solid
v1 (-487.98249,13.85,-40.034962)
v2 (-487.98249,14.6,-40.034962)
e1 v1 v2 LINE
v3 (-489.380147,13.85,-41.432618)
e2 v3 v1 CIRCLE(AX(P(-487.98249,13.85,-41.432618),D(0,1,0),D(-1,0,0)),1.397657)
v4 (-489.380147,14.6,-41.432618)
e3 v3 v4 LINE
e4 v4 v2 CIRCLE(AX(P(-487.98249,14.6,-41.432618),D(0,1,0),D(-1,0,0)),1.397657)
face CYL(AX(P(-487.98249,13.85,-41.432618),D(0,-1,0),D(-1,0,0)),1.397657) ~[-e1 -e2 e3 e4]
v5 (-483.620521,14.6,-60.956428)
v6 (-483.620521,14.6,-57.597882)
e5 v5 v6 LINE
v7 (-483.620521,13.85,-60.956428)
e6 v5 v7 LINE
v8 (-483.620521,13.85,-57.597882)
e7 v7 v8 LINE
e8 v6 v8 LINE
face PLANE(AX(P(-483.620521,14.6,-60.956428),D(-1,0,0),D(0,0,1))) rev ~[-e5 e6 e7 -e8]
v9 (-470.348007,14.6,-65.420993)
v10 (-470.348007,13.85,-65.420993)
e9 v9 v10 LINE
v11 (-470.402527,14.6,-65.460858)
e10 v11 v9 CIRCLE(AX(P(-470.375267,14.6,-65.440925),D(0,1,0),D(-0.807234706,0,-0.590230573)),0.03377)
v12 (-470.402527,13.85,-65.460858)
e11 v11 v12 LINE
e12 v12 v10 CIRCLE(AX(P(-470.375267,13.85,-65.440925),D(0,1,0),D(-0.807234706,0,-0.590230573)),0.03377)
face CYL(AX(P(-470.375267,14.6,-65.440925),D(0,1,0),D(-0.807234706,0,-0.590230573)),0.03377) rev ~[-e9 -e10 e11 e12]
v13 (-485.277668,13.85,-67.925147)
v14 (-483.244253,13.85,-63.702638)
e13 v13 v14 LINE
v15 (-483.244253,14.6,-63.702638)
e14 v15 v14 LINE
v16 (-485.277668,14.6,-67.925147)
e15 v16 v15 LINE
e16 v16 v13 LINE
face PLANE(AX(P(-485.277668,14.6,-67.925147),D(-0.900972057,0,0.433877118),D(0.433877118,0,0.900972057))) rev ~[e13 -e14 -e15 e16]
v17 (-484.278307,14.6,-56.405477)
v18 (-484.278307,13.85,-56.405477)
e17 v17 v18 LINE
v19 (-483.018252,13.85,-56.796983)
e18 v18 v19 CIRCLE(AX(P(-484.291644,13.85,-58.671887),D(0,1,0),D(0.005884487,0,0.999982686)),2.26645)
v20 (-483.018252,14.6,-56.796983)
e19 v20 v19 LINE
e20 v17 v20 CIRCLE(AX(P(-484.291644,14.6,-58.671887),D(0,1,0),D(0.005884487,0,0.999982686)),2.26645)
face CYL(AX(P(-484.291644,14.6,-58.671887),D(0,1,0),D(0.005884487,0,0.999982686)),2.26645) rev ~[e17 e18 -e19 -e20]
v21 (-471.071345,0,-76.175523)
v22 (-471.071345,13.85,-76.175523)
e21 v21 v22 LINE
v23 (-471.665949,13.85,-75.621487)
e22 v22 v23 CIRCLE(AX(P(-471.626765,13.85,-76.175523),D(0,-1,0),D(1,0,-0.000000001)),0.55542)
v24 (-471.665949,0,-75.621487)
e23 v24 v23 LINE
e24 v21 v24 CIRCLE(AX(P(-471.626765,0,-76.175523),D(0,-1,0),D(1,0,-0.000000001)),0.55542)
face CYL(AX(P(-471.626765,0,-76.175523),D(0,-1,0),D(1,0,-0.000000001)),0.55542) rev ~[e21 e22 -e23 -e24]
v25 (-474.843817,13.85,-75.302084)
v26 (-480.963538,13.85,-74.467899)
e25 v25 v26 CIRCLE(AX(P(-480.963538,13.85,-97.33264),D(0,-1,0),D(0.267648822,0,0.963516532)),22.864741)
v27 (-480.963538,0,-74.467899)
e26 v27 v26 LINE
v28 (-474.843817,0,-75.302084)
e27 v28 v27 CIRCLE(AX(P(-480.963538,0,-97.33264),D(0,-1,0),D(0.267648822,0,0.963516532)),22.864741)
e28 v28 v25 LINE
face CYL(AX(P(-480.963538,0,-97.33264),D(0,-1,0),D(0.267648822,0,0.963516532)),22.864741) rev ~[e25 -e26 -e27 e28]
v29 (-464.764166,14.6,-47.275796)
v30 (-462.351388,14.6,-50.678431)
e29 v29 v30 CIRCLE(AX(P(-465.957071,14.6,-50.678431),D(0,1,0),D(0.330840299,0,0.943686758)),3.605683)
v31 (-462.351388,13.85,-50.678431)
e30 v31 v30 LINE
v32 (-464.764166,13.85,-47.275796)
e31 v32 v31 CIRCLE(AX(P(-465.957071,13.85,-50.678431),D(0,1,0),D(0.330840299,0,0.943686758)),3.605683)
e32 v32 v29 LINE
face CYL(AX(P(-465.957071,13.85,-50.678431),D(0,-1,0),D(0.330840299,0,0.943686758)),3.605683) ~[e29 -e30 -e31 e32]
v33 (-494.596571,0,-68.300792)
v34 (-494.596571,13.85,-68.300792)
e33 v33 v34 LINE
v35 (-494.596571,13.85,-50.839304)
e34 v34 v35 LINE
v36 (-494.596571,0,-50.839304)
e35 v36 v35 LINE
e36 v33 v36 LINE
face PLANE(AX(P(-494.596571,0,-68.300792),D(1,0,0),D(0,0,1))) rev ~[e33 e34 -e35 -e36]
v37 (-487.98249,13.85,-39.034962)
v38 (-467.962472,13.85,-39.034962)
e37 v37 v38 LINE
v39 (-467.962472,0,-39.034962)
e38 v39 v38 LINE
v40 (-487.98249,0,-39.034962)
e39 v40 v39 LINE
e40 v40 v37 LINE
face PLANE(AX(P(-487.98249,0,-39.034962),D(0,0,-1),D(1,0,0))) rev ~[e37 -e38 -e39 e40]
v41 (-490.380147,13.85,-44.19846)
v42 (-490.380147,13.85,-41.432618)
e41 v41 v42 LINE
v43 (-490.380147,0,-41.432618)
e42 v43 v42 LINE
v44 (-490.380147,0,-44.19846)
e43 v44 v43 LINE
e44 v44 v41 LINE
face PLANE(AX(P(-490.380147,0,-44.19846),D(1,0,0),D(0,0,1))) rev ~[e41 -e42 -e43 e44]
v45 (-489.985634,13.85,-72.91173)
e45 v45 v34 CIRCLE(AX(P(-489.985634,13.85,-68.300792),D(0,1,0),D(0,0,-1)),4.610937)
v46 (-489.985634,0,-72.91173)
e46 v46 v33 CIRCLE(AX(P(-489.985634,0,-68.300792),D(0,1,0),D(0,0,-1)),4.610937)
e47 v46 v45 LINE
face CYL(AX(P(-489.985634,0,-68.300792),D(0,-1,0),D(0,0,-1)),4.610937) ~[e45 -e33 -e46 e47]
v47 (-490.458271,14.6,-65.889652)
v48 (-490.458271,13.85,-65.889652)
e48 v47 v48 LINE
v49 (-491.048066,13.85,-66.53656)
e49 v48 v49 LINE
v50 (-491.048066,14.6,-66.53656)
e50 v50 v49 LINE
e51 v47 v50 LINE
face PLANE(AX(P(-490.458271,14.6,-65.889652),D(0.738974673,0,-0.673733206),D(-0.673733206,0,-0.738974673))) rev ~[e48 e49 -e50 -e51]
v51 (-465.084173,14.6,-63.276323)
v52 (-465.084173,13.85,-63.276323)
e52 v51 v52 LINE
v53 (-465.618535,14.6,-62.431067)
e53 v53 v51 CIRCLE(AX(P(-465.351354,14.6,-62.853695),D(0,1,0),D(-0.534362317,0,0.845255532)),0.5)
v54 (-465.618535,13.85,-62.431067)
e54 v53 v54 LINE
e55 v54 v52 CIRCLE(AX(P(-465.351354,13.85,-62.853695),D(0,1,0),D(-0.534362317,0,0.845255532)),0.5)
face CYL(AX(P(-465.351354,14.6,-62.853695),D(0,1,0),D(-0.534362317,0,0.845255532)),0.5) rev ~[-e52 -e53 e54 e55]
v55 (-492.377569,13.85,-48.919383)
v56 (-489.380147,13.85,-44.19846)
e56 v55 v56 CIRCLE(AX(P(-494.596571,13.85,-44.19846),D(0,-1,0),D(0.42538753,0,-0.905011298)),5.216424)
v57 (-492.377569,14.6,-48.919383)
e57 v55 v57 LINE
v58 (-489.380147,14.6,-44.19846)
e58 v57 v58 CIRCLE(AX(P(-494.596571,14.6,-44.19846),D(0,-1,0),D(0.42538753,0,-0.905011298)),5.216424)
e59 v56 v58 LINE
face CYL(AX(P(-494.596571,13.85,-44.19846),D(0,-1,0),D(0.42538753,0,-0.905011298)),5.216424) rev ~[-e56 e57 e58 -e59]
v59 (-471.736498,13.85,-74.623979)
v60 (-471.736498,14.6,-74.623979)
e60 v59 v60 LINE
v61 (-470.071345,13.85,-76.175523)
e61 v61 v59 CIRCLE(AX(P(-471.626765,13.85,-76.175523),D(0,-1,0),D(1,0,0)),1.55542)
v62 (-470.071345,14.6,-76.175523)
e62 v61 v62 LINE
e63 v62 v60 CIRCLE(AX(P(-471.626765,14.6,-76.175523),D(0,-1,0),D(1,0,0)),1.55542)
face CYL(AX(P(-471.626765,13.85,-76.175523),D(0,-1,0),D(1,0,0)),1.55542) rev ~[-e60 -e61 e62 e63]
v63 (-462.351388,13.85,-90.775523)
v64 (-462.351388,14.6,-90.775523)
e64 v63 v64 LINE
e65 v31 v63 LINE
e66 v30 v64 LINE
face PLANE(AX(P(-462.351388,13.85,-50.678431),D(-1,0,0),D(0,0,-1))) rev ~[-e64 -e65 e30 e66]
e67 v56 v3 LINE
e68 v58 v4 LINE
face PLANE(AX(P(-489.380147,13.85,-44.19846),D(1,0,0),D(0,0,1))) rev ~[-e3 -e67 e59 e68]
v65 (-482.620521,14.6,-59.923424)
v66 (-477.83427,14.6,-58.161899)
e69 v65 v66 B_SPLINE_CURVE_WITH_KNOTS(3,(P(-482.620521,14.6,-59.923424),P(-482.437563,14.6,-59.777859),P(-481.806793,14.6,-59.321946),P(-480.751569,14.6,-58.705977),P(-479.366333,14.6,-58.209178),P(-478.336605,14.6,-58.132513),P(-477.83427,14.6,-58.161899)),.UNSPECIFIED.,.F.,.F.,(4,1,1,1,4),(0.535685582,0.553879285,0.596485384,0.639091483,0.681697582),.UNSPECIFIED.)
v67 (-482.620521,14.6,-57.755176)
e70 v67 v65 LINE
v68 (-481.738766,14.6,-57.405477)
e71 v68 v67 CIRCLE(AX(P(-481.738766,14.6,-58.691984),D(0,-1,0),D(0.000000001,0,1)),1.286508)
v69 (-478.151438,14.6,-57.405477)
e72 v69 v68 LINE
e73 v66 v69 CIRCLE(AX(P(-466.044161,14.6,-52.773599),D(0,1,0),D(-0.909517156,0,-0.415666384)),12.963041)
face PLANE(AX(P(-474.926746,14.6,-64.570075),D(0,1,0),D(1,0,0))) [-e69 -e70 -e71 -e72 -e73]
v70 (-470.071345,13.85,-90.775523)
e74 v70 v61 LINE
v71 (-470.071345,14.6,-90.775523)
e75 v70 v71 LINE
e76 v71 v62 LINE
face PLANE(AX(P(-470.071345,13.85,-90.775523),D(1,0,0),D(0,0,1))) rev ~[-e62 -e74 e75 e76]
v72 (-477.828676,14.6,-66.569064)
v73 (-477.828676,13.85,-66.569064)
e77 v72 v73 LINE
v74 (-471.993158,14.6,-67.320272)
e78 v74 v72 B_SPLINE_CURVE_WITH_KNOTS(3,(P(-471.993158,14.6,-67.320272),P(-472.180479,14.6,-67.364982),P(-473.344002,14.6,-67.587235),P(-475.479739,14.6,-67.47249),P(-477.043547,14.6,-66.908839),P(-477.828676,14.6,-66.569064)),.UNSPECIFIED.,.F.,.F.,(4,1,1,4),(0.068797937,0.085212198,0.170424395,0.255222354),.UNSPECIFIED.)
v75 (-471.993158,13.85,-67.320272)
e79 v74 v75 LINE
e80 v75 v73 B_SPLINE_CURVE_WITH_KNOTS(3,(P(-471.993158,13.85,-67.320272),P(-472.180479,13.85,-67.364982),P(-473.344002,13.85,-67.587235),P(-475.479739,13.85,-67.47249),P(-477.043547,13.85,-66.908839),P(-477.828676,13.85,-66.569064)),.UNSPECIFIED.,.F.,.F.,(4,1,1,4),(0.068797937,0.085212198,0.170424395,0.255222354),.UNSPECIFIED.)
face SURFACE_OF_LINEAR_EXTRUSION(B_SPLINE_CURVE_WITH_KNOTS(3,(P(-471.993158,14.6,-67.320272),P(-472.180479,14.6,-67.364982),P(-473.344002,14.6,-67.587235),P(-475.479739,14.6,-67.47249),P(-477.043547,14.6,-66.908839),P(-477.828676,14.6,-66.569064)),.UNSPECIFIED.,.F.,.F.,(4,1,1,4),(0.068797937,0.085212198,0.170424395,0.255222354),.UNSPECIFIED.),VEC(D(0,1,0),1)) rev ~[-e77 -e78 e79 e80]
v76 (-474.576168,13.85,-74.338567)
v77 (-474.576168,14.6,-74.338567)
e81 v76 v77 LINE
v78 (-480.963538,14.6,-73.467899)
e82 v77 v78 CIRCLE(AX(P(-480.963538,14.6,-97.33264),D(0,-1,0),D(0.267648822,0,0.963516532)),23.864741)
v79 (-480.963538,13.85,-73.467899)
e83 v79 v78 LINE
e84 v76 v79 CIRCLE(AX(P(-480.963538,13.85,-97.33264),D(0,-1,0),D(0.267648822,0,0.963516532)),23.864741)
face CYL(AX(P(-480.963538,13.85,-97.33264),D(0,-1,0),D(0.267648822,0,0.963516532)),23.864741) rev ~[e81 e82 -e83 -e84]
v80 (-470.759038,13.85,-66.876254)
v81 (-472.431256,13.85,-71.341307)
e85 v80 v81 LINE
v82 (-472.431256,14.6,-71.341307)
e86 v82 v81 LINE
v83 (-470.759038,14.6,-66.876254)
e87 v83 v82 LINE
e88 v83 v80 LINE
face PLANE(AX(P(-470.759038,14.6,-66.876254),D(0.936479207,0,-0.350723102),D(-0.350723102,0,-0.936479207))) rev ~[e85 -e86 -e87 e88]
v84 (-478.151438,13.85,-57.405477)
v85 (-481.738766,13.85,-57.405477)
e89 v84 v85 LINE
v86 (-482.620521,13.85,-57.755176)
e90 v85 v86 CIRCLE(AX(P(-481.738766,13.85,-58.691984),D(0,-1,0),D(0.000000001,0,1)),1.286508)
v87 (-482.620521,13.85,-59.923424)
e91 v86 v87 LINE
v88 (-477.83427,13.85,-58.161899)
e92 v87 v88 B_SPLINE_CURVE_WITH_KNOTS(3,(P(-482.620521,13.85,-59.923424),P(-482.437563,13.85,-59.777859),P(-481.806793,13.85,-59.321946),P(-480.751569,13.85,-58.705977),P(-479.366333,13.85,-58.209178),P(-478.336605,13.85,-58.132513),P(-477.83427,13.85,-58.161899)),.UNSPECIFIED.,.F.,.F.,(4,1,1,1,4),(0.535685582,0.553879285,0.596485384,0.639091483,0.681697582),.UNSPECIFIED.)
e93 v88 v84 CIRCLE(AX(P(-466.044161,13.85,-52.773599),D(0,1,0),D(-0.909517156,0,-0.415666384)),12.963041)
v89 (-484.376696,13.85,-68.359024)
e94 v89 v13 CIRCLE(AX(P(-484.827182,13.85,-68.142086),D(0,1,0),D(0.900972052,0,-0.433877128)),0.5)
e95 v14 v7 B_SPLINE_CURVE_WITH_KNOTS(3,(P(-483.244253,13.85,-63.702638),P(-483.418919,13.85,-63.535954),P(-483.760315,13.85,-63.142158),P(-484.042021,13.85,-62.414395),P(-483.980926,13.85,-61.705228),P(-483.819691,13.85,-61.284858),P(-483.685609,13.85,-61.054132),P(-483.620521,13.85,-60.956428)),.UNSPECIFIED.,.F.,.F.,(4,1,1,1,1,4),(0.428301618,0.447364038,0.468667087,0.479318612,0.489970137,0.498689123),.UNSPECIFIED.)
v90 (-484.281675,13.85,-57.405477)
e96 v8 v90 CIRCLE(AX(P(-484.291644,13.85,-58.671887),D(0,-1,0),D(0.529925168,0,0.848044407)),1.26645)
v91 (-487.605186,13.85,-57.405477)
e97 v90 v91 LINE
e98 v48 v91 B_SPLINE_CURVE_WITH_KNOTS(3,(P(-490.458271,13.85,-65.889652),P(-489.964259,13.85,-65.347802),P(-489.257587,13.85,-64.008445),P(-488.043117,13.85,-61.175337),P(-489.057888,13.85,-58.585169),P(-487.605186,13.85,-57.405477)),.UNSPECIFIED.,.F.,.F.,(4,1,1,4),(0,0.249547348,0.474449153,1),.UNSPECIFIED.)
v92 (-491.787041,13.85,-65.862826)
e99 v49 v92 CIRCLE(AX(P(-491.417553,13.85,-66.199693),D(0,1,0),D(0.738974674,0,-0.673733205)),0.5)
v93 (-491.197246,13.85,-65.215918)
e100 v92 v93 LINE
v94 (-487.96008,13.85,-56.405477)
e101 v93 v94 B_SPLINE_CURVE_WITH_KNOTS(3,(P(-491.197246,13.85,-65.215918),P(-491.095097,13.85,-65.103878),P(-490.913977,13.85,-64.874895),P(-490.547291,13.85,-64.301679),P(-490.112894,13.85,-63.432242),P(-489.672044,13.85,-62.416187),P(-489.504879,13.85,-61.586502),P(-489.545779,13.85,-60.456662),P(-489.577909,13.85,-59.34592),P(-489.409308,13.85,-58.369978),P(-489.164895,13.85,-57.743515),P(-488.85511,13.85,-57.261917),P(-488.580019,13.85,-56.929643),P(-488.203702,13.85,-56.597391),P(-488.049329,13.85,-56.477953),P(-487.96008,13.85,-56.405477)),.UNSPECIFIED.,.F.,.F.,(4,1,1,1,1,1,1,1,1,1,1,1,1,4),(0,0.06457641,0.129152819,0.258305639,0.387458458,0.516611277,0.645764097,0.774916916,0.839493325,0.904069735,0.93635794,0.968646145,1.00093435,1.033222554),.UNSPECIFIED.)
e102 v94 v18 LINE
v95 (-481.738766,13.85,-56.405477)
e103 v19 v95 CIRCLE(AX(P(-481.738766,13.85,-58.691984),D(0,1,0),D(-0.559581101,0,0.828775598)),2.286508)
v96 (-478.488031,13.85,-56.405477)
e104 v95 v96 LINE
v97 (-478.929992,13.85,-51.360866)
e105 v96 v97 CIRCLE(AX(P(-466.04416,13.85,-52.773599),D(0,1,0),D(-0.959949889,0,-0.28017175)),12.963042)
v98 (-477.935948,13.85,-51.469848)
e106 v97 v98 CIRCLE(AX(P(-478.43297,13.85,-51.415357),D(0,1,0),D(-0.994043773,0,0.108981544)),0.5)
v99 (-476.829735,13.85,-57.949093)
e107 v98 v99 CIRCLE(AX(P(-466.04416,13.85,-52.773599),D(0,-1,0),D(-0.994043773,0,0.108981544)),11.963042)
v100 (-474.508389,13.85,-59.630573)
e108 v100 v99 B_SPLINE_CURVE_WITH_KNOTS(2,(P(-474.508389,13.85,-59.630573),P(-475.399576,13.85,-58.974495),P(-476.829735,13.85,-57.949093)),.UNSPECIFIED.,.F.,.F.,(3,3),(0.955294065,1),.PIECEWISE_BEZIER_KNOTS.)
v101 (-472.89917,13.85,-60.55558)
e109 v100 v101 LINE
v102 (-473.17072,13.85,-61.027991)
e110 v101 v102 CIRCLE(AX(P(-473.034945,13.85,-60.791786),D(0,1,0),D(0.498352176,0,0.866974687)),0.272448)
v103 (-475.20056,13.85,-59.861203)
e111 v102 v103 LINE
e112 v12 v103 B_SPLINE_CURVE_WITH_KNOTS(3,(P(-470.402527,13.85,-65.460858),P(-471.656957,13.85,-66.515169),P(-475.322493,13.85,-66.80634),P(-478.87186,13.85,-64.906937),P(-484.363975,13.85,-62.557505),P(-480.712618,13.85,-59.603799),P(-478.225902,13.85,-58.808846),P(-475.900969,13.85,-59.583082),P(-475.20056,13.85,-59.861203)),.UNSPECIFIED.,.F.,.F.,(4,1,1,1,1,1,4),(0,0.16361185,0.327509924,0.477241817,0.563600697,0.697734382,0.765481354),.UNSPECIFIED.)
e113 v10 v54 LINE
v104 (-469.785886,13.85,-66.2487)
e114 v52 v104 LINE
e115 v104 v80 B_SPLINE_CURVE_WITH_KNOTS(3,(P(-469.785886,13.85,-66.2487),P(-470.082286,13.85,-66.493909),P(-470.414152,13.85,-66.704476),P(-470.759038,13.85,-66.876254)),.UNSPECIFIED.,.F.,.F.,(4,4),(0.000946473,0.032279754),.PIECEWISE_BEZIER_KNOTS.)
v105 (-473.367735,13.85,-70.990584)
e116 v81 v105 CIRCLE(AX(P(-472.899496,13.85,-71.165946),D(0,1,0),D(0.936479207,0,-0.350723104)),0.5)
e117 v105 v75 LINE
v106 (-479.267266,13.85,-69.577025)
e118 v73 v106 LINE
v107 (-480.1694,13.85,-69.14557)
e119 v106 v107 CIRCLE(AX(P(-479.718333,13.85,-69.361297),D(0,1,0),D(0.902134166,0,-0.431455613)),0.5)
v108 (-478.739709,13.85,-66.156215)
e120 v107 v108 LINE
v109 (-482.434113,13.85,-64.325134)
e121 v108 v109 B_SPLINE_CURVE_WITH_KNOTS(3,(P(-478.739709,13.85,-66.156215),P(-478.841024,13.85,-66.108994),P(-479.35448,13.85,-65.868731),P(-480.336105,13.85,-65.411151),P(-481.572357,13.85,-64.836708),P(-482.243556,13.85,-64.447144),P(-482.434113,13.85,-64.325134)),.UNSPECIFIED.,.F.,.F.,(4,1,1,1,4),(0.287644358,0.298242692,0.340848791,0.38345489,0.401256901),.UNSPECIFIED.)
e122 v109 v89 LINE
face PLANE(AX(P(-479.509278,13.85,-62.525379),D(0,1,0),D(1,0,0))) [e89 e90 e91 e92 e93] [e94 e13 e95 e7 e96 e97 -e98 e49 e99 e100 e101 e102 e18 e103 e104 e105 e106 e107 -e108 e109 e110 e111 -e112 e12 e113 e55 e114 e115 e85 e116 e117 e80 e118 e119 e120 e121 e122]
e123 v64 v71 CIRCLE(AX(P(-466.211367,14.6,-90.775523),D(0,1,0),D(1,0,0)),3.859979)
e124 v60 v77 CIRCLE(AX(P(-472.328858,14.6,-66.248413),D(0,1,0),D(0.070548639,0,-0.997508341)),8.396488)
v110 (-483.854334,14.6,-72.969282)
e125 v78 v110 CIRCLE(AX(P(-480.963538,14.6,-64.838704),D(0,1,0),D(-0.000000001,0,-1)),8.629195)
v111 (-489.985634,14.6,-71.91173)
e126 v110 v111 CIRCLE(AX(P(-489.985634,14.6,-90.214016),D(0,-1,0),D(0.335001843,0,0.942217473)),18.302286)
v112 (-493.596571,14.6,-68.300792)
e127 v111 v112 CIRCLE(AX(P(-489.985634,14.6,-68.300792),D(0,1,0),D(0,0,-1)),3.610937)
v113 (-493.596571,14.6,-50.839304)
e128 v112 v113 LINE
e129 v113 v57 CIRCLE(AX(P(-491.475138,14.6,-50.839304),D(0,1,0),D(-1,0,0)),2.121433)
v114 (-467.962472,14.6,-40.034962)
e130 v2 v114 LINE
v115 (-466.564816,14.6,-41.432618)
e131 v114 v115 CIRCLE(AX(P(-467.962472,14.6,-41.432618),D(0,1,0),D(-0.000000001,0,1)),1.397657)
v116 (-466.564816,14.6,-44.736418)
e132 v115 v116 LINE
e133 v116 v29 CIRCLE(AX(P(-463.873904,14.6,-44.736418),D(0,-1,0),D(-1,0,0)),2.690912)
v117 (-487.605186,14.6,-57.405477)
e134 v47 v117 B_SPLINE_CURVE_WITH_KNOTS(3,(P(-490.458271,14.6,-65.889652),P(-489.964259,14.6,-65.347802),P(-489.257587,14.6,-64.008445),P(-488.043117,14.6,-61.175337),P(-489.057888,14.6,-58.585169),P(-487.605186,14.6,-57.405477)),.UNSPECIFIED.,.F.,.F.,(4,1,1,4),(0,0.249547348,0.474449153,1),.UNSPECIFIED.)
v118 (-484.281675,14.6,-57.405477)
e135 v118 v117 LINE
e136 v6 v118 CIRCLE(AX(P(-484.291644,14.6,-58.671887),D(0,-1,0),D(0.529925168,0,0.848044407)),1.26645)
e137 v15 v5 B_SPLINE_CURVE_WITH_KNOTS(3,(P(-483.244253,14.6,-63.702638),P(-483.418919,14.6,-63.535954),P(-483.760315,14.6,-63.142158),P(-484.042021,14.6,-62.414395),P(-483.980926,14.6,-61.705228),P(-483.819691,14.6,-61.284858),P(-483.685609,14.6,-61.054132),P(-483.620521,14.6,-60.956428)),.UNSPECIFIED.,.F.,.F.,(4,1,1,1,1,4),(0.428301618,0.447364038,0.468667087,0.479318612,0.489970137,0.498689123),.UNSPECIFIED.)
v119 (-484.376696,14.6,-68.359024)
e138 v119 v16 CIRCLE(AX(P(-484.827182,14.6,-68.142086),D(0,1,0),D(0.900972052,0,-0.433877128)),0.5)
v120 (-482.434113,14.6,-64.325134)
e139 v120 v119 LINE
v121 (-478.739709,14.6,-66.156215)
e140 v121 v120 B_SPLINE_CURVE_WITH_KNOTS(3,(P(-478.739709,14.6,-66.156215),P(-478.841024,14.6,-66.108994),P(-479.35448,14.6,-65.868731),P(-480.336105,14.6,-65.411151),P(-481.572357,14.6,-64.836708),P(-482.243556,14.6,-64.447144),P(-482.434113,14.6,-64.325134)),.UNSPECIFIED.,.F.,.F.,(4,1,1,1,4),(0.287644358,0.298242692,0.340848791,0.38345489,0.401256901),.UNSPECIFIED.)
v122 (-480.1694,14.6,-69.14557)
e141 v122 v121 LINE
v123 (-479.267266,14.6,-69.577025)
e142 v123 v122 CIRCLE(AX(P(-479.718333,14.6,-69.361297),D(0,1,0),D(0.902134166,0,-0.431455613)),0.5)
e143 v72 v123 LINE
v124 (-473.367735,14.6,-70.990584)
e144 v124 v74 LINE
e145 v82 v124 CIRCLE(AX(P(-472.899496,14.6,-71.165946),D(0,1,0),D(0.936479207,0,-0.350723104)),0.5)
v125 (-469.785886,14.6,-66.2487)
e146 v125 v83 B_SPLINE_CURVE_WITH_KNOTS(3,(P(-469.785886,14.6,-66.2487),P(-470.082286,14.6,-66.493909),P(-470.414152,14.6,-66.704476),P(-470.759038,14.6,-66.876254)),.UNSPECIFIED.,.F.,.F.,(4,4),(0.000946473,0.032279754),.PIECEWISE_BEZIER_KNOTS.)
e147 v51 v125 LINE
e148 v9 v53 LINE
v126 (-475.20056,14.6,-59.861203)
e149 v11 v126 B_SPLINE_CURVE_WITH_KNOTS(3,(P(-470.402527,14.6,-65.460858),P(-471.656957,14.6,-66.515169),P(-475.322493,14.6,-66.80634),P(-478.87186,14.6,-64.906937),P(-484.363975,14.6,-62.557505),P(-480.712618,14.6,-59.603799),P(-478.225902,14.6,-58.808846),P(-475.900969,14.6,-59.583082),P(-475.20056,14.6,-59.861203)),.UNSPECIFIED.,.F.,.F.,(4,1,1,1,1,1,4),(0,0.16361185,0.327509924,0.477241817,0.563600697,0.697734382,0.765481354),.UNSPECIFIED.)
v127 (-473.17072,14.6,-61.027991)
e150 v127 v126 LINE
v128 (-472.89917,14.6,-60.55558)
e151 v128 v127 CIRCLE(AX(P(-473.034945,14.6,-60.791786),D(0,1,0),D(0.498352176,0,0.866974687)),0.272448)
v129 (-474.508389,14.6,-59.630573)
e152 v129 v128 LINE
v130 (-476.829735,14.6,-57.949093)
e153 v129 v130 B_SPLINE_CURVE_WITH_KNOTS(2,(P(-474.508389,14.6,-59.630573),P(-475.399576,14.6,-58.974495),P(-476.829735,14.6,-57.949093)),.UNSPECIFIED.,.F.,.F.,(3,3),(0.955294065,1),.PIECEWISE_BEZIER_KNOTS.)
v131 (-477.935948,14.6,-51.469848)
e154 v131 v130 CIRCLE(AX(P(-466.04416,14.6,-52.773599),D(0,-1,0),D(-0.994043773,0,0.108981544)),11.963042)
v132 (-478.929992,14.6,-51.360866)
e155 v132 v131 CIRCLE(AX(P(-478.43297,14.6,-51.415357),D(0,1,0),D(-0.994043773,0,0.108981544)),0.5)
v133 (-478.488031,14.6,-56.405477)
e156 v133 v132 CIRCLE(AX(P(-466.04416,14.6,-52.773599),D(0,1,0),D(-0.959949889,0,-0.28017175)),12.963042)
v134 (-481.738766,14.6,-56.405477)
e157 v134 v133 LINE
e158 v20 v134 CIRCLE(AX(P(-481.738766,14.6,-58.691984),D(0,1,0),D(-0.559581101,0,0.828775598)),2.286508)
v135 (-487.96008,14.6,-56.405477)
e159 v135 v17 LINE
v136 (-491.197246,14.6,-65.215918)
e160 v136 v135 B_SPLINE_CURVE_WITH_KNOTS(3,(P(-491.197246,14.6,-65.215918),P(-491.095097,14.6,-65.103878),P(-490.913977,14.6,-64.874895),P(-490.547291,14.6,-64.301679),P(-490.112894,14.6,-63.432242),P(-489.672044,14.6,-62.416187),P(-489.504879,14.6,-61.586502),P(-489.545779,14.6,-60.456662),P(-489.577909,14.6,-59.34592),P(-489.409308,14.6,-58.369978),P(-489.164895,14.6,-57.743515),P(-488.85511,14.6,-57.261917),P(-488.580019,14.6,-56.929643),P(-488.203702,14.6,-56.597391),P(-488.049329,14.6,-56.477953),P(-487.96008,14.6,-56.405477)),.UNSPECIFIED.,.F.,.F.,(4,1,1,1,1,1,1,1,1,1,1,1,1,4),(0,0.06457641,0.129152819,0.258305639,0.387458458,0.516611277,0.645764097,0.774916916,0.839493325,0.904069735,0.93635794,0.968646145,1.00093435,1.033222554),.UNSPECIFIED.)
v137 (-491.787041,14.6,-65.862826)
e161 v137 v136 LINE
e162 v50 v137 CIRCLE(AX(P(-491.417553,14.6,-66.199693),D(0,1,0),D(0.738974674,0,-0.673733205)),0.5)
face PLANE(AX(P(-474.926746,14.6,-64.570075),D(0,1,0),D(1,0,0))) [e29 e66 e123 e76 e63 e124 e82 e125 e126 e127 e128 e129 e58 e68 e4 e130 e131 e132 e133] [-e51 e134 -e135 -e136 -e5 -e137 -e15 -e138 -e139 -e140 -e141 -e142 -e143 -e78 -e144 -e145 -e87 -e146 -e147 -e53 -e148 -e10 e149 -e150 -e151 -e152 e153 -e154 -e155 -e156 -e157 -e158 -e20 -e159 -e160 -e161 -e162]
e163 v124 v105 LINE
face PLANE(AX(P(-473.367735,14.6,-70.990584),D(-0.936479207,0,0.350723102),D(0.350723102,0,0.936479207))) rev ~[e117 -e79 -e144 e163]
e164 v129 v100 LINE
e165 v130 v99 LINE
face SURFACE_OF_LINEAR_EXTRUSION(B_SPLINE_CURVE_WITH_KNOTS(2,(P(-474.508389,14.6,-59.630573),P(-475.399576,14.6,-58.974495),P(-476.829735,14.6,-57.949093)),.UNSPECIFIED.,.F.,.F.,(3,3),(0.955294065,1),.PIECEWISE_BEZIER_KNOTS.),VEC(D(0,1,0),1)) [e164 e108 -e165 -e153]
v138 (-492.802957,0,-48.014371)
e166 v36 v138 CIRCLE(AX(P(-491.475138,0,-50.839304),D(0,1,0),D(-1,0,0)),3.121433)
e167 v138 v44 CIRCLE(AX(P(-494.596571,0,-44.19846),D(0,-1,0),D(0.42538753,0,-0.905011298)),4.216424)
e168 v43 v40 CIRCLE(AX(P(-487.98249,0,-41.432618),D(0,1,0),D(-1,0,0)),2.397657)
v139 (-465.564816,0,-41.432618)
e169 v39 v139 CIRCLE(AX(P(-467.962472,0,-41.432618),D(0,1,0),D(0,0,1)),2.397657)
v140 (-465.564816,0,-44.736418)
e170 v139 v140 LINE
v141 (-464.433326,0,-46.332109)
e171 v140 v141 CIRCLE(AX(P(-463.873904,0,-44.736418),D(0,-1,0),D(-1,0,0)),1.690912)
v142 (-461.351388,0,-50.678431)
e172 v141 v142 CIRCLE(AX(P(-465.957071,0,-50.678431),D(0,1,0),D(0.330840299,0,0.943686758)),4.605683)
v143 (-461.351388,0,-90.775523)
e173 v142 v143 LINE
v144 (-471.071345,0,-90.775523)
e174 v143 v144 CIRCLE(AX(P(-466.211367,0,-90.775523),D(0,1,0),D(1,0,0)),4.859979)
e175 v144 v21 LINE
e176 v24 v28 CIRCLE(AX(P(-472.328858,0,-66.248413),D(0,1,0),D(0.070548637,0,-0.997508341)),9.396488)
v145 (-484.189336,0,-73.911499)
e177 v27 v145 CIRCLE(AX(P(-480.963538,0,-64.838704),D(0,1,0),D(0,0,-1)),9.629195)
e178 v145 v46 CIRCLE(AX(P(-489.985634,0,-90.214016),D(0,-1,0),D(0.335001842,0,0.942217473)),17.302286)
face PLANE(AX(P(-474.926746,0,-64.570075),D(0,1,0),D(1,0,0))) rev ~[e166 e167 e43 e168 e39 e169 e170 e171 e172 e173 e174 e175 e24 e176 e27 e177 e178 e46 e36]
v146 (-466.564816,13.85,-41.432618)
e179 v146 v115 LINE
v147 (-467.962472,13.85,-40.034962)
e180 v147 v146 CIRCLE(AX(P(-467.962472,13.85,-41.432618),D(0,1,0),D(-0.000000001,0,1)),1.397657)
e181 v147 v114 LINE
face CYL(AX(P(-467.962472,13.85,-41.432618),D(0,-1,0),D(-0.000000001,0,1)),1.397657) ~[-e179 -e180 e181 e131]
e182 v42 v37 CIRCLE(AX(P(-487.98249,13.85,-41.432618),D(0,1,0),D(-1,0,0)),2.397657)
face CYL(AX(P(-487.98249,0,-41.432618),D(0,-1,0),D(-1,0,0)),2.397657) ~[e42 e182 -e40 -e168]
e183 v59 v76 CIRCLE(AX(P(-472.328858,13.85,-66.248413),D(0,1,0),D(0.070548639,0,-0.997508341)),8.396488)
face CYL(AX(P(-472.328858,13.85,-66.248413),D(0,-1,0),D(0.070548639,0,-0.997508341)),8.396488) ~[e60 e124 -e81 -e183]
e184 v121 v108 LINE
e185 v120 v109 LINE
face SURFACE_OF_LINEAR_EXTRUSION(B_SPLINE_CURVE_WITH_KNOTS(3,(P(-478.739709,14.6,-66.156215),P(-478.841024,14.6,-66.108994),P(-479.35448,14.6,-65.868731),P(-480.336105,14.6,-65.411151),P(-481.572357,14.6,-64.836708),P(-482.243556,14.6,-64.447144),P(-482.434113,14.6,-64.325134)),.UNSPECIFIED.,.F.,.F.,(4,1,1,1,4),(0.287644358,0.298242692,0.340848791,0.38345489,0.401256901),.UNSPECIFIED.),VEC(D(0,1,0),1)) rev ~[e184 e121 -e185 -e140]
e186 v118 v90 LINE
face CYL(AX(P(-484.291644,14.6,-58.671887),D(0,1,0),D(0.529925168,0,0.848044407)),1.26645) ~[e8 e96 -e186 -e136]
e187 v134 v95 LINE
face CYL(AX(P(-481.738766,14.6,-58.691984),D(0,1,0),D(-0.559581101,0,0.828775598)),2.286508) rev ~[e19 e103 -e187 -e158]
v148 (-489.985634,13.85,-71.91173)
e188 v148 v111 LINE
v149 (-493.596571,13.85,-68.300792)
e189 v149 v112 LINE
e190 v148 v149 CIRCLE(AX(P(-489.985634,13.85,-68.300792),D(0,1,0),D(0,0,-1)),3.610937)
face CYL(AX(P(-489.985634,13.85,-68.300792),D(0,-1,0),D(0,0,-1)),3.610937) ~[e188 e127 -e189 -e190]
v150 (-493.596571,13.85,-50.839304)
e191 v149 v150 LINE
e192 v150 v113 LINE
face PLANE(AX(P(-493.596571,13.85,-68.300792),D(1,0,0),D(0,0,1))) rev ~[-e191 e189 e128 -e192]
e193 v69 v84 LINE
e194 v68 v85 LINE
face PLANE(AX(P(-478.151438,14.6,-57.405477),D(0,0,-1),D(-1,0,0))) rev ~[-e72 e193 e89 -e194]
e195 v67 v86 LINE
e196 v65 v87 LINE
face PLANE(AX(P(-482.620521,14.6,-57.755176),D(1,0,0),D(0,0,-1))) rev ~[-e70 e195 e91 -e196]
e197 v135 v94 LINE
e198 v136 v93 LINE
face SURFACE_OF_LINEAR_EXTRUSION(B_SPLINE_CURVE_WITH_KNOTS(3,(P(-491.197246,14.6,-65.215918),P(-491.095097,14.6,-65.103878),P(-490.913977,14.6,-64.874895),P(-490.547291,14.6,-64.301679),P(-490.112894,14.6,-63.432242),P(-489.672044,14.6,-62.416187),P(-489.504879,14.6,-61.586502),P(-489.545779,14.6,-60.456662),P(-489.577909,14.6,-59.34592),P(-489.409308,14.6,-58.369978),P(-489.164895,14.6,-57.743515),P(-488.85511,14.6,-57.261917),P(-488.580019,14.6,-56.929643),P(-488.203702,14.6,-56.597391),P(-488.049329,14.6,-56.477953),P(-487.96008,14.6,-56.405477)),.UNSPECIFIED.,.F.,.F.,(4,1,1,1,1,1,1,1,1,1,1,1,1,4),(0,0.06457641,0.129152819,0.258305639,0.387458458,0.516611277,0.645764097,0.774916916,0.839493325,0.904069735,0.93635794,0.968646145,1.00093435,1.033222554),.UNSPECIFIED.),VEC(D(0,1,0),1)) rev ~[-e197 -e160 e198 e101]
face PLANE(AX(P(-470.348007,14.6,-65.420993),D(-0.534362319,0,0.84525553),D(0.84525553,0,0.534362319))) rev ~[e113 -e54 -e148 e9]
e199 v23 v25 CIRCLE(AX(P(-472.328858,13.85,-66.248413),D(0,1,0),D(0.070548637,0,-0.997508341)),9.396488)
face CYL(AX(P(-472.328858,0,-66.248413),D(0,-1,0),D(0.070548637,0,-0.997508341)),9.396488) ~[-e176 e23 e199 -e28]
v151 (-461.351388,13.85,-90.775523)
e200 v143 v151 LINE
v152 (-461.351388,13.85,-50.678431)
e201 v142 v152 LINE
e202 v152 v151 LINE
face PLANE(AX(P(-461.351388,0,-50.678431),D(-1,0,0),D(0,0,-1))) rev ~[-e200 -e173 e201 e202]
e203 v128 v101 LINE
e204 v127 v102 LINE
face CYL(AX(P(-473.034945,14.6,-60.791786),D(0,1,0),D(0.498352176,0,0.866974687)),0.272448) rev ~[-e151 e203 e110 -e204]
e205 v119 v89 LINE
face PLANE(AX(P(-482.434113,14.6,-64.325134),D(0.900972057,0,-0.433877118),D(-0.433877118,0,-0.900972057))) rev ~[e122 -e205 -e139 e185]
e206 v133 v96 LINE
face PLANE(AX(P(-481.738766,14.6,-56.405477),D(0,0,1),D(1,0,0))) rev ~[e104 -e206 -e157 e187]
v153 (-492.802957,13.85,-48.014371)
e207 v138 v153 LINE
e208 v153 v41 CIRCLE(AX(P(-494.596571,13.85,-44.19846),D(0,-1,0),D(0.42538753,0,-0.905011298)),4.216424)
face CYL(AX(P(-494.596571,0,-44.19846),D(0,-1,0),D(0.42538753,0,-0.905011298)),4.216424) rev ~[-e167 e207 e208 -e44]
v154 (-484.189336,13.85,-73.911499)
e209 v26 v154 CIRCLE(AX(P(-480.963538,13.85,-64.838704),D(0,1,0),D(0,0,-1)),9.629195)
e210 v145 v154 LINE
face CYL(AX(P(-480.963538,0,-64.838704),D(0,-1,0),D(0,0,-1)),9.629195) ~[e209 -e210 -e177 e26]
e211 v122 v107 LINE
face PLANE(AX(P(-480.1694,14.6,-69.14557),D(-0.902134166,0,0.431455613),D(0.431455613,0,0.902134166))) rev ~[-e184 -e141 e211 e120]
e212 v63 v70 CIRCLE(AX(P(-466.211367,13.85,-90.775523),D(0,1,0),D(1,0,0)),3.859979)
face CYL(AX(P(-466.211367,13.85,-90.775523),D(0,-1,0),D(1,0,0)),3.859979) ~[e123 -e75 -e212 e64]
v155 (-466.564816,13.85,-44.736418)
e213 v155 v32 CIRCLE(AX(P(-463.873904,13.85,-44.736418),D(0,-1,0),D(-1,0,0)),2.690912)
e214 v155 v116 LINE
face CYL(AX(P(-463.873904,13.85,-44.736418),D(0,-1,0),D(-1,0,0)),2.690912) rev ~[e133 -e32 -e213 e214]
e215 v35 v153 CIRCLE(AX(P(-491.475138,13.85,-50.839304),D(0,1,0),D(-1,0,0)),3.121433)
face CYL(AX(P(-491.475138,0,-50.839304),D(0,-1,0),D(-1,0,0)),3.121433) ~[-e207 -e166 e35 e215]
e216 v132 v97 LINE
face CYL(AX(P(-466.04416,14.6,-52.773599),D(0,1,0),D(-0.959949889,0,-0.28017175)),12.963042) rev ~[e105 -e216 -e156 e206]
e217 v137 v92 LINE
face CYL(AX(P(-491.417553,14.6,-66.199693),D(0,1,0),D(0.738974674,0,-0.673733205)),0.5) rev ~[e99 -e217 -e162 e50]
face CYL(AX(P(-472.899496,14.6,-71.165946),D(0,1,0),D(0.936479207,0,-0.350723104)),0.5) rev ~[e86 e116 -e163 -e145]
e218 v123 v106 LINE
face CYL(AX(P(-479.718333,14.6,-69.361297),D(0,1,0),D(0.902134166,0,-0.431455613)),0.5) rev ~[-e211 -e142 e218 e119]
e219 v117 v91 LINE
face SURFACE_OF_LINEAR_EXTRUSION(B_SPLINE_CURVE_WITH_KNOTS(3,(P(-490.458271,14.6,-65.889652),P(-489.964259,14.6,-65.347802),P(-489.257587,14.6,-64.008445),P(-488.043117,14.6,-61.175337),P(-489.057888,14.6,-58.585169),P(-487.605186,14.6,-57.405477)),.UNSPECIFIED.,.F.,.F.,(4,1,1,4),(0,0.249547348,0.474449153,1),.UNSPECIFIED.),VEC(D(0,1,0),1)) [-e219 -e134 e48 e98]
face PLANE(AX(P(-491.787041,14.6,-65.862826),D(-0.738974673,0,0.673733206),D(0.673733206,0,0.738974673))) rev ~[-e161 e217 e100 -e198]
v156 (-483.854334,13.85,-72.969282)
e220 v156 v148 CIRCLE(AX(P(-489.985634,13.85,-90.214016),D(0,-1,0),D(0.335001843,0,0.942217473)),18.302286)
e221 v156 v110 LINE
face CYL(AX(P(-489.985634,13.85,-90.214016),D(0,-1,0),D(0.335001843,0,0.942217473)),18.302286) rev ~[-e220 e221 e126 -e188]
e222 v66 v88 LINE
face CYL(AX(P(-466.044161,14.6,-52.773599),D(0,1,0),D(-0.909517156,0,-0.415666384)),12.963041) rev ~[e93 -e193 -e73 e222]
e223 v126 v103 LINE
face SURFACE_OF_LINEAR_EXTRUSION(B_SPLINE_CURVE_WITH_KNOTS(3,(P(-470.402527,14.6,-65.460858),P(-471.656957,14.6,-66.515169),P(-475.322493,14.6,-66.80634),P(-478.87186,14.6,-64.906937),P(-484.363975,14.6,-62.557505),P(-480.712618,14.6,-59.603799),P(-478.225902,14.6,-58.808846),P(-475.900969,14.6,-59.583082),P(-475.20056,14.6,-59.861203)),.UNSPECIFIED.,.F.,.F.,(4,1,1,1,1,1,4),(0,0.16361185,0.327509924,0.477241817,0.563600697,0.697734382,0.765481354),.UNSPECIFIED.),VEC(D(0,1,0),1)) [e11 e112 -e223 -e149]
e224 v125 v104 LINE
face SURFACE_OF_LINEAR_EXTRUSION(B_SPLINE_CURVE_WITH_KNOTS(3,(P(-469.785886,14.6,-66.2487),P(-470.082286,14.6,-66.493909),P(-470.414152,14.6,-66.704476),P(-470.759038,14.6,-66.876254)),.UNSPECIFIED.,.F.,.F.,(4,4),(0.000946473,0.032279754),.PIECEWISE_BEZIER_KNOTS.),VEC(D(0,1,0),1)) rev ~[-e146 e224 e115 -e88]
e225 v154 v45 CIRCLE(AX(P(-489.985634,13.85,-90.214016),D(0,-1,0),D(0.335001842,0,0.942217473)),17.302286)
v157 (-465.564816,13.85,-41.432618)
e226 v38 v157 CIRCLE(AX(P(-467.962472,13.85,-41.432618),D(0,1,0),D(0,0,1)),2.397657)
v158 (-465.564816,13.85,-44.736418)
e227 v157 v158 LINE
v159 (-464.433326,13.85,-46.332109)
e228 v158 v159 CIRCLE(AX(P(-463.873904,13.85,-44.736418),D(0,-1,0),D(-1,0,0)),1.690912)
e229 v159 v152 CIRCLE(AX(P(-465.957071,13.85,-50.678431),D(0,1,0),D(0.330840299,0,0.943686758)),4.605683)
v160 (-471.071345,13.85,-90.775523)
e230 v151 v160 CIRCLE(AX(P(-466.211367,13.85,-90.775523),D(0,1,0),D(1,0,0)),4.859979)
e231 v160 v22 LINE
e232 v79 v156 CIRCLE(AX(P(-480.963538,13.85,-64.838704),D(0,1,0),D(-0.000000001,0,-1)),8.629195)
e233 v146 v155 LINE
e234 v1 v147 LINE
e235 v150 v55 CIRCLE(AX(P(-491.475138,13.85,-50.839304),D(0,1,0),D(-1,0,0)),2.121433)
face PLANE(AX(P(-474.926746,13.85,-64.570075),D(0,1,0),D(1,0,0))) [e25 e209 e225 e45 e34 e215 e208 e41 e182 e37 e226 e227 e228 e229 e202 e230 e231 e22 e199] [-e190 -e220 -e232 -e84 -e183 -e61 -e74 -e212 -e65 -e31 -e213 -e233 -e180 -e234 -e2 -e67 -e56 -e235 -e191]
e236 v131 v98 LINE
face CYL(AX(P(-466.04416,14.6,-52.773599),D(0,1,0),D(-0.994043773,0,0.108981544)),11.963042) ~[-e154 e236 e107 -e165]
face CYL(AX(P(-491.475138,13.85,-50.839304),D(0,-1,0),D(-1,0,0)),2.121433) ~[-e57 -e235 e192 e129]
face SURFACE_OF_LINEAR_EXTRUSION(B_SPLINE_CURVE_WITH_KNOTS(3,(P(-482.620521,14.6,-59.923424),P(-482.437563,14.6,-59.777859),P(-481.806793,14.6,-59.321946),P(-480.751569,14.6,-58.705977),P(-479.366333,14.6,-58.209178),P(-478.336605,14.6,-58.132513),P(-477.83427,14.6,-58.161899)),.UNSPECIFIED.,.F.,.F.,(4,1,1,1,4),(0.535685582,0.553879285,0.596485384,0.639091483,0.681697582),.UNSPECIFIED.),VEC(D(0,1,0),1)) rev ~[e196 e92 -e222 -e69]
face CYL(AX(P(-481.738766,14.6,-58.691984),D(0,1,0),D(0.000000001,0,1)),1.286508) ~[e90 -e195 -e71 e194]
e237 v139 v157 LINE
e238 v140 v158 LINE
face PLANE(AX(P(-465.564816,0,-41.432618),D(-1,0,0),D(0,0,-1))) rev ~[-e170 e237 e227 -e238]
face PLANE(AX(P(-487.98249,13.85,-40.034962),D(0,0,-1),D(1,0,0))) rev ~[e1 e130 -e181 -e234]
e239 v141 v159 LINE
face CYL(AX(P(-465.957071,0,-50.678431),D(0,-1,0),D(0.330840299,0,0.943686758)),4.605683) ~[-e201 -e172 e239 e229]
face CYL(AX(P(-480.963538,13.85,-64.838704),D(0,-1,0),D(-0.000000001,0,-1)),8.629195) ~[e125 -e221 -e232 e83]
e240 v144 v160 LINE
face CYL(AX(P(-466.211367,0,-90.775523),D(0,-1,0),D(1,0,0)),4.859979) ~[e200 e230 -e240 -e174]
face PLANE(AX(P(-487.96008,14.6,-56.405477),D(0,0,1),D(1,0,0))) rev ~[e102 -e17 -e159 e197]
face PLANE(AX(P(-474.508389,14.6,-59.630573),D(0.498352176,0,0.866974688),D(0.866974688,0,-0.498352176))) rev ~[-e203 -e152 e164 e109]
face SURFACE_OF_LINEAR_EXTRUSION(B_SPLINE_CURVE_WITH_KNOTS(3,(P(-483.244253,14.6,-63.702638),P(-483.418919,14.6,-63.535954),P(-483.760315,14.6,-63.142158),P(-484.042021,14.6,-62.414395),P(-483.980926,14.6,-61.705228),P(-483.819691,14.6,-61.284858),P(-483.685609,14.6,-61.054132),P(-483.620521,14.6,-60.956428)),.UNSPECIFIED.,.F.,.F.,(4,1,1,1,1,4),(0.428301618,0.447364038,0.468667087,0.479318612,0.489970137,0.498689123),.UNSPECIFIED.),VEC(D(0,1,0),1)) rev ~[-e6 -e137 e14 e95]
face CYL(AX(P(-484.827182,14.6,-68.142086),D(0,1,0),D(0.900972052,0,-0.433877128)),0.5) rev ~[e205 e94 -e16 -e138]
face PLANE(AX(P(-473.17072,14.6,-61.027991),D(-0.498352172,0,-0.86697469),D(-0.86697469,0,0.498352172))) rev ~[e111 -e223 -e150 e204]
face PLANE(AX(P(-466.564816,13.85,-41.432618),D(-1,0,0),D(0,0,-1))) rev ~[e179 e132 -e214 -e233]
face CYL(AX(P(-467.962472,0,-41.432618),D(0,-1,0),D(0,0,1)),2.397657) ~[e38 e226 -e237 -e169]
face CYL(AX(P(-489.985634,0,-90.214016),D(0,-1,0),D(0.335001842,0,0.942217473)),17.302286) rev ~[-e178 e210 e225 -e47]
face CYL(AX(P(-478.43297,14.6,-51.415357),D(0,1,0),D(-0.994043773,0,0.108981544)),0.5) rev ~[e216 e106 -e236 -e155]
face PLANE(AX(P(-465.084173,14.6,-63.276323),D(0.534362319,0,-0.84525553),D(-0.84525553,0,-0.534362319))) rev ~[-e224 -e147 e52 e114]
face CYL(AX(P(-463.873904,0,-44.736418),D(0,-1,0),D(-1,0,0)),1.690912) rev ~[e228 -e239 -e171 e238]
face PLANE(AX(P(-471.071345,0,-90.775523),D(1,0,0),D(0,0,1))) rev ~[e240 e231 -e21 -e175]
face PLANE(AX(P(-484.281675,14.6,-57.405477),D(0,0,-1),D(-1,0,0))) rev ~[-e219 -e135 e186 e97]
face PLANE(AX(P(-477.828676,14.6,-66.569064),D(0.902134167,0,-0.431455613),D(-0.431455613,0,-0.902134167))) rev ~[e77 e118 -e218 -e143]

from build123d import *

# Parameters (mm, degrees)
BOSS_EXTRU_1_DEPTH = 14.6
CUT_EXTRUDE1_DEPTH = 0.75
CUT_EXTRUDE2_START = -0.75
CUT_EXTRUDE2_DEPTH = 0.75


with BuildPart() as part:
    # Esquisse2 → Boss.-Extru.1 (new body)
    with BuildSketch(Plane(origin=(0, 0, 0), x_dir=(1, 0, 0), z_dir=(0, 1, 0))):
        with BuildLine():
            Line((-461.351388226, 50.678431152), (-461.351388226, 90.775522892))
            ThreePointArc((-461.351388226, 90.775522892), (-466.211366791, 95.635501457), (-471.071345356, 90.775522892))
            Line((-471.071345356, 90.775522892), (-471.071345356, 76.175522892))
            ThreePointArc((-471.071345356, 76.175522892), (-471.248130994, 75.769164395), (-471.66594897, 75.621487285))
            ThreePointArc((-471.66594897, 75.621487285), (-473.268553235, 75.597795011), (-474.843817202, 75.302083679))
            ThreePointArc((-474.843817202, 75.302083679), (-477.875381422, 74.67740473), (-480.963538252, 74.467898632))
            ThreePointArc((-480.963538252, 74.467898632), (-482.600253942, 74.327779354), (-484.189336279, 73.911499414))
            ThreePointArc((-484.189336279, 73.911499414), (-487.044689997, 73.163503891), (-489.985634038, 72.911729587))
            ThreePointArc((-489.985634038, 72.911729587), (-493.246058953, 71.561217368), (-494.596571172, 68.300792453))
            Line((-494.596571172, 68.300792453), (-494.596571172, 50.839303584))
            ThreePointArc((-494.596571172, 50.839303584), (-494.110289111, 49.166185675), (-492.802956825, 48.014371421))
            ThreePointArc((-492.802956825, 48.014371421), (-491.037015464, 46.458503449), (-490.380146806, 44.198459732))
            Line((-490.380146806, 44.198459732), (-490.380146806, 41.432618273))
            ThreePointArc((-490.380146806, 41.432618273), (-489.677889469, 39.737219085), (-487.982490281, 39.034961748))
            Line((-487.982490281, 39.034961748), (-467.962472456, 39.034961748))
            ThreePointArc((-467.962472456, 39.034961748), (-466.267073268, 39.737219085), (-465.564815931, 41.432618273))
            Line((-465.564815931, 41.432618273), (-465.564815931, 44.736417722))
            ThreePointArc((-465.564815931, 44.736417722), (-465.25323649, 45.714489805), (-464.433325852, 46.332108859))
            ThreePointArc((-464.433325852, 46.332108859), (-462.200064163, 48.014371421), (-461.351388226, 50.678431152))
        make_face()
    extrude(amount=BOSS_EXTRU_1_DEPTH)

    # Esquisse4 → Cut-Extrude1 (cut)
    with BuildSketch(Plane(origin=(0, 14.6, 0), x_dir=(1, 0, 0), z_dir=(0, 1, 0))):
        with BuildLine():
            Line((-470.759038399, 66.876254444), (-472.431256119, 71.341307125))
            ThreePointArc((-472.431256119, 71.341307125), (-473.074857274, 71.634185177), (-473.367735327, 70.990584023))
            Line((-473.367735327, 70.990584023), (-471.993157719, 67.320271624))
            add(Edge.make_bspline(
                [(-471.993157719, 67.320271624), (-472.180478604, 67.36498208), (-473.344002436, 67.587235479), (-475.479739271, 67.472490346), (-477.043546697, 66.90883882), (-477.828675922, 66.569064368)],
                knots=[0.068797937, 0.068797937, 0.068797937, 0.068797937, 0.085212198, 0.170424395, 0.255222354, 0.255222354, 0.255222354, 0.255222354], degree=3))
            Line((-477.828675922, 66.569064368), (-479.267266322, 69.577025126))
            ThreePointArc((-479.267266322, 69.577025126), (-479.934061212, 69.812364403), (-480.169400489, 69.145569513))
            Line((-480.169400489, 69.145569513), (-478.739708759, 66.156215062))
            add(Edge.make_bspline(
                [(-478.739708759, 66.156215062), (-478.841024014, 66.108993774), (-479.354480109, 65.868730534), (-480.336105389, 65.411150949), (-481.572356528, 64.836708033), (-482.243555734, 64.447144423), (-482.434113402, 64.325134018)],
                knots=[0.287644358, 0.287644358, 0.287644358, 0.287644358, 0.298242692, 0.340848791, 0.38345489, 0.401256901, 0.401256901, 0.401256901, 0.401256901], degree=3))
            Line((-482.434113402, 64.325134018), (-484.376696119, 68.359024433))
            ThreePointArc((-484.376696119, 68.359024433), (-485.044120706, 68.592571896), (-485.277668173, 67.92514731))
            Line((-485.277668173, 67.92514731), (-483.244253147, 63.702638116))
            add(Edge.make_bspline(
                [(-483.244253147, 63.702638116), (-483.418919034, 63.535954123), (-483.760315122, 63.142157659), (-484.042020949, 62.414395148), (-483.98092589, 61.705227649), (-483.81969142, 61.284857812), (-483.685609155, 61.05413183), (-483.620520673, 60.956427528)],
                knots=[0.428301618, 0.428301618, 0.428301618, 0.428301618, 0.447364038, 0.468667087, 0.479318612, 0.489970137, 0.498689123, 0.498689123, 0.498689123, 0.498689123], degree=3))
            Line((-483.620520673, 60.956427528), (-483.620520673, 57.597881669))
            ThreePointArc((-483.620520673, 57.597881669), (-483.937770251, 57.455882294), (-484.281674888, 57.405476759))
            Line((-484.281674888, 57.405476759), (-487.605186099, 57.405476759))
            add(Edge.make_bspline(
                [(-490.458271221, 65.889651605), (-489.964259208, 65.347801564), (-489.257587251, 64.008444797), (-488.043116631, 61.175336728), (-489.057887679, 58.585169194), (-487.605186099, 57.405476759)],
                knots=[0, 0, 0, 0, 0.249547348, 0.474449153, 1, 1, 1, 1], degree=3))
            Line((-490.458271221, 65.889651605), (-491.048066053, 66.536559667))
            ThreePointArc((-491.048066053, 66.536559667), (-491.754419993, 66.569180401), (-491.787040726, 65.862826461))
            Line((-491.787040726, 65.862826461), (-491.197245894, 65.215918399))
            add(Edge.make_bspline(
                [(-491.197245894, 65.215918399), (-491.095097262, 65.103878105), (-490.913977468, 64.874895205), (-490.547291291, 64.301678952), (-490.112893659, 63.432242493), (-489.67204398, 62.416186706), (-489.504878635, 61.586502311), (-489.545778679, 60.45666192), (-489.577909133, 59.345919755), (-489.409307696, 58.369978179), (-489.164894876, 57.743514674), (-488.855110289, 57.261917218), (-488.580019374, 56.929642688), (-488.203701982, 56.597390566), (-488.049329474, 56.477953416), (-487.960080001, 56.405476808)],
                knots=[0, 0, 0, 0, 0.06457641, 0.129152819, 0.258305639, 0.387458458, 0.516611277, 0.645764097, 0.774916916, 0.839493325, 0.904069735, 0.93635794, 0.968646145, 1.00093435, 1.033222554, 1.033222554, 1.033222554, 1.033222554], degree=3))
            Line((-487.960080001, 56.405476808), (-484.27830747, 56.405476808))
            ThreePointArc((-484.27830747, 56.405476808), (-483.619158654, 56.507503464), (-483.018252357, 56.796982689))
            ThreePointArc((-483.018252357, 56.796982689), (-482.407788066, 56.505542911), (-481.738765966, 56.405476808))
            Line((-481.738765966, 56.405476808), (-478.488031211, 56.405476808))
            ThreePointArc((-478.488031211, 56.405476808), (-478.957737586, 53.904962522), (-478.929991667, 51.360866232))
            ThreePointArc((-478.929991667, 51.360866232), (-478.378479008, 50.918335117), (-477.935947893, 51.469847775))
            ThreePointArc((-477.935947893, 51.469847775), (-477.83656682, 54.786935808), (-476.829735496, 57.949093346))
            add(Edge.make_bspline(
                [(-474.508389009, 59.630573263), (-475.39957607, 58.974494681), (-476.829735496, 57.949093346)],
                knots=[0.955294065, 0.955294065, 0.955294065, 1, 1, 1], degree=2))
            Line((-474.508389009, 59.630573263), (-472.899170253, 60.555580278))
            ThreePointArc((-472.899170253, 60.555580278), (-472.798739907, 60.927560405), (-473.170720034, 61.027990752))
            Line((-473.170720034, 61.027990752), (-475.200560004, 59.861203335))
            add(Edge.make_bspline(
                [(-470.402527361, 65.460857516), (-471.656956737, 66.515168583), (-475.322492763, 66.806340084), (-478.871859969, 64.906936953), (-484.363975035, 62.557505369), (-480.712618445, 59.603798607), (-478.225902463, 58.808845566), (-475.900969447, 59.583081624), (-475.200560004, 59.861203335)],
                knots=[0, 0, 0, 0, 0.16361185, 0.327509924, 0.477241817, 0.563600697, 0.697734382, 0.765481354, 0.765481354, 0.765481354, 0.765481354], degree=3))
            ThreePointArc((-470.402527361, 65.460857516), (-470.39519915, 65.413665236), (-470.34800687, 65.420993448))
            Line((-470.34800687, 65.420993448), (-465.618535182, 62.431067479))
            ThreePointArc((-465.618535182, 62.431067479), (-464.928726258, 62.586514085), (-465.084172863, 63.27632301))
            Line((-465.084172863, 63.27632301), (-469.785886114, 66.248700365))
            add(Edge.make_bspline(
                [(-469.785886114, 66.248700365), (-470.08228622, 66.493908564), (-470.414152153, 66.704476344), (-470.759038399, 66.876254444)],
                knots=[0.000946473, 0.000946473, 0.000946473, 0.000946473, 0.032279754, 0.032279754, 0.032279754, 0.032279754], degree=3))
        make_face()
        with BuildLine():
            ThreePointArc((-477.834269574, 58.161899431), (-477.998837916, 57.786197293), (-478.151437751, 57.405476759))
            Line((-478.151437751, 57.405476759), (-481.738765966, 57.405476759))
            ThreePointArc((-481.738765966, 57.405476759), (-482.213049829, 57.496092802), (-482.620520673, 57.755175725))
            Line((-482.620520673, 57.755175725), (-482.620520673, 59.923424064))
            add(Edge.make_bspline(
                [(-482.620520673, 59.923424064), (-482.437562835, 59.77785948), (-481.806793393, 59.321946019), (-480.7515692, 58.705977162), (-479.366332949, 58.209178182), (-478.336605496, 58.132512954), (-477.834269574, 58.161899431)],
                knots=[0.535685582, 0.535685582, 0.535685582, 0.535685582, 0.553879285, 0.596485384, 0.639091483, 0.681697582, 0.681697582, 0.681697582, 0.681697582], degree=3))
        make_face(mode=Mode.SUBTRACT)
    extrude(amount=-CUT_EXTRUDE1_DEPTH, mode=Mode.SUBTRACT)

    # Sketch1 → Cut-Extrude2 (cut)
    with BuildSketch(Plane(origin=(0, 14.6, 0), x_dir=(1, 0, 0), z_dir=(0, 1, 0)).offset(CUT_EXTRUDE2_START)):
        with BuildLine():
            Line((-461.351388226, 50.678431152), (-461.351388226, 90.775522892))
            ThreePointArc((-461.351388226, 90.775522892), (-466.211366791, 95.635501457), (-471.071345356, 90.775522892))
            Line((-471.071345356, 90.775522892), (-471.071345356, 76.175522892))
            ThreePointArc((-471.071345356, 76.175522892), (-471.248130994, 75.769164395), (-471.66594897, 75.621487285))
            ThreePointArc((-471.66594897, 75.621487285), (-473.268553235, 75.597795011), (-474.843817202, 75.302083679))
            ThreePointArc((-474.843817202, 75.302083679), (-477.875381422, 74.67740473), (-480.963538252, 74.467898632))
            ThreePointArc((-480.963538252, 74.467898632), (-482.600253942, 74.327779354), (-484.189336279, 73.911499414))
            ThreePointArc((-484.189336279, 73.911499414), (-487.044689997, 73.163503891), (-489.985634038, 72.911729587))
            ThreePointArc((-489.985634038, 72.911729587), (-493.246058953, 71.561217368), (-494.596571172, 68.300792453))
            Line((-494.596571172, 68.300792453), (-494.596571172, 50.839303584))
            ThreePointArc((-494.596571172, 50.839303584), (-494.110289111, 49.166185675), (-492.802956825, 48.014371421))
            ThreePointArc((-492.802956825, 48.014371421), (-491.037015464, 46.458503449), (-490.380146806, 44.198459732))
            Line((-490.380146806, 44.198459732), (-490.380146806, 41.432618273))
            ThreePointArc((-490.380146806, 41.432618273), (-489.677889469, 39.737219085), (-487.982490281, 39.034961748))
            Line((-487.982490281, 39.034961748), (-467.962472456, 39.034961748))
            ThreePointArc((-467.962472456, 39.034961748), (-466.267073268, 39.737219085), (-465.564815931, 41.432618273))
            Line((-465.564815931, 41.432618273), (-465.564815931, 44.736417722))
            ThreePointArc((-465.564815931, 44.736417722), (-465.25323649, 45.714489805), (-464.433325852, 46.332108859))
            ThreePointArc((-464.433325852, 46.332108859), (-462.200064163, 48.014371421), (-461.351388226, 50.678431152))
        make_face()
        with BuildLine():
            Line((-462.351388226, 50.678431152), (-462.351388226, 90.775522892))
            ThreePointArc((-462.351388226, 90.775522892), (-466.211366791, 94.635501457), (-470.071345356, 90.775522892))
            Line((-470.071345356, 90.775522892), (-470.071345356, 76.175522892))
            ThreePointArc((-470.071345356, 76.175522892), (-470.566423079, 75.037539957), (-471.736497608, 74.623978944))
            ThreePointArc((-471.736497608, 74.623978944), (-473.168548328, 74.602808068), (-474.576168379, 74.338567147))
            ThreePointArc((-474.576168379, 74.338567147), (-477.740319459, 73.686567576), (-480.963538252, 73.467898632))
            ThreePointArc((-480.963538252, 73.467898632), (-482.430279639, 73.342330859), (-483.854334437, 72.969281942))
            ThreePointArc((-483.854334437, 72.969281942), (-486.874715694, 72.178055396), (-489.985634038, 71.911729587))
            ThreePointArc((-489.985634038, 71.911729587), (-492.538952172, 70.854110587), (-493.596571172, 68.300792453))
            Line((-493.596571172, 68.300792453), (-493.596571172, 50.839303584))
            ThreePointArc((-493.596571172, 50.839303584), (-493.266077191, 49.702195222), (-492.377569295, 48.919382719))
            ThreePointArc((-492.377569295, 48.919382719), (-490.192803545, 46.994512997), (-489.380146806, 44.198459732))
            Line((-489.380146806, 44.198459732), (-489.380146806, 41.432618273))
            ThreePointArc((-489.380146806, 41.432618273), (-488.970782687, 40.444325866), (-487.982490281, 40.034961748))
            Line((-487.982490281, 40.034961748), (-467.962472456, 40.034961748))
            ThreePointArc((-467.962472456, 40.034961748), (-466.974180049, 40.444325866), (-466.564815931, 41.432618273))
            Line((-466.564815931, 41.432618273), (-466.564815931, 44.736417722))
            ThreePointArc((-466.564815931, 44.736417722), (-466.068969381, 46.292918583), (-464.764166151, 47.275795616))
            ThreePointArc((-464.764166151, 47.275795616), (-463.015797054, 48.592800198), (-462.351388226, 50.678431152))
        make_face(mode=Mode.SUBTRACT)
    extrude(amount=CUT_EXTRUDE2_DEPTH, mode=Mode.SUBTRACT)


solid = part.part
